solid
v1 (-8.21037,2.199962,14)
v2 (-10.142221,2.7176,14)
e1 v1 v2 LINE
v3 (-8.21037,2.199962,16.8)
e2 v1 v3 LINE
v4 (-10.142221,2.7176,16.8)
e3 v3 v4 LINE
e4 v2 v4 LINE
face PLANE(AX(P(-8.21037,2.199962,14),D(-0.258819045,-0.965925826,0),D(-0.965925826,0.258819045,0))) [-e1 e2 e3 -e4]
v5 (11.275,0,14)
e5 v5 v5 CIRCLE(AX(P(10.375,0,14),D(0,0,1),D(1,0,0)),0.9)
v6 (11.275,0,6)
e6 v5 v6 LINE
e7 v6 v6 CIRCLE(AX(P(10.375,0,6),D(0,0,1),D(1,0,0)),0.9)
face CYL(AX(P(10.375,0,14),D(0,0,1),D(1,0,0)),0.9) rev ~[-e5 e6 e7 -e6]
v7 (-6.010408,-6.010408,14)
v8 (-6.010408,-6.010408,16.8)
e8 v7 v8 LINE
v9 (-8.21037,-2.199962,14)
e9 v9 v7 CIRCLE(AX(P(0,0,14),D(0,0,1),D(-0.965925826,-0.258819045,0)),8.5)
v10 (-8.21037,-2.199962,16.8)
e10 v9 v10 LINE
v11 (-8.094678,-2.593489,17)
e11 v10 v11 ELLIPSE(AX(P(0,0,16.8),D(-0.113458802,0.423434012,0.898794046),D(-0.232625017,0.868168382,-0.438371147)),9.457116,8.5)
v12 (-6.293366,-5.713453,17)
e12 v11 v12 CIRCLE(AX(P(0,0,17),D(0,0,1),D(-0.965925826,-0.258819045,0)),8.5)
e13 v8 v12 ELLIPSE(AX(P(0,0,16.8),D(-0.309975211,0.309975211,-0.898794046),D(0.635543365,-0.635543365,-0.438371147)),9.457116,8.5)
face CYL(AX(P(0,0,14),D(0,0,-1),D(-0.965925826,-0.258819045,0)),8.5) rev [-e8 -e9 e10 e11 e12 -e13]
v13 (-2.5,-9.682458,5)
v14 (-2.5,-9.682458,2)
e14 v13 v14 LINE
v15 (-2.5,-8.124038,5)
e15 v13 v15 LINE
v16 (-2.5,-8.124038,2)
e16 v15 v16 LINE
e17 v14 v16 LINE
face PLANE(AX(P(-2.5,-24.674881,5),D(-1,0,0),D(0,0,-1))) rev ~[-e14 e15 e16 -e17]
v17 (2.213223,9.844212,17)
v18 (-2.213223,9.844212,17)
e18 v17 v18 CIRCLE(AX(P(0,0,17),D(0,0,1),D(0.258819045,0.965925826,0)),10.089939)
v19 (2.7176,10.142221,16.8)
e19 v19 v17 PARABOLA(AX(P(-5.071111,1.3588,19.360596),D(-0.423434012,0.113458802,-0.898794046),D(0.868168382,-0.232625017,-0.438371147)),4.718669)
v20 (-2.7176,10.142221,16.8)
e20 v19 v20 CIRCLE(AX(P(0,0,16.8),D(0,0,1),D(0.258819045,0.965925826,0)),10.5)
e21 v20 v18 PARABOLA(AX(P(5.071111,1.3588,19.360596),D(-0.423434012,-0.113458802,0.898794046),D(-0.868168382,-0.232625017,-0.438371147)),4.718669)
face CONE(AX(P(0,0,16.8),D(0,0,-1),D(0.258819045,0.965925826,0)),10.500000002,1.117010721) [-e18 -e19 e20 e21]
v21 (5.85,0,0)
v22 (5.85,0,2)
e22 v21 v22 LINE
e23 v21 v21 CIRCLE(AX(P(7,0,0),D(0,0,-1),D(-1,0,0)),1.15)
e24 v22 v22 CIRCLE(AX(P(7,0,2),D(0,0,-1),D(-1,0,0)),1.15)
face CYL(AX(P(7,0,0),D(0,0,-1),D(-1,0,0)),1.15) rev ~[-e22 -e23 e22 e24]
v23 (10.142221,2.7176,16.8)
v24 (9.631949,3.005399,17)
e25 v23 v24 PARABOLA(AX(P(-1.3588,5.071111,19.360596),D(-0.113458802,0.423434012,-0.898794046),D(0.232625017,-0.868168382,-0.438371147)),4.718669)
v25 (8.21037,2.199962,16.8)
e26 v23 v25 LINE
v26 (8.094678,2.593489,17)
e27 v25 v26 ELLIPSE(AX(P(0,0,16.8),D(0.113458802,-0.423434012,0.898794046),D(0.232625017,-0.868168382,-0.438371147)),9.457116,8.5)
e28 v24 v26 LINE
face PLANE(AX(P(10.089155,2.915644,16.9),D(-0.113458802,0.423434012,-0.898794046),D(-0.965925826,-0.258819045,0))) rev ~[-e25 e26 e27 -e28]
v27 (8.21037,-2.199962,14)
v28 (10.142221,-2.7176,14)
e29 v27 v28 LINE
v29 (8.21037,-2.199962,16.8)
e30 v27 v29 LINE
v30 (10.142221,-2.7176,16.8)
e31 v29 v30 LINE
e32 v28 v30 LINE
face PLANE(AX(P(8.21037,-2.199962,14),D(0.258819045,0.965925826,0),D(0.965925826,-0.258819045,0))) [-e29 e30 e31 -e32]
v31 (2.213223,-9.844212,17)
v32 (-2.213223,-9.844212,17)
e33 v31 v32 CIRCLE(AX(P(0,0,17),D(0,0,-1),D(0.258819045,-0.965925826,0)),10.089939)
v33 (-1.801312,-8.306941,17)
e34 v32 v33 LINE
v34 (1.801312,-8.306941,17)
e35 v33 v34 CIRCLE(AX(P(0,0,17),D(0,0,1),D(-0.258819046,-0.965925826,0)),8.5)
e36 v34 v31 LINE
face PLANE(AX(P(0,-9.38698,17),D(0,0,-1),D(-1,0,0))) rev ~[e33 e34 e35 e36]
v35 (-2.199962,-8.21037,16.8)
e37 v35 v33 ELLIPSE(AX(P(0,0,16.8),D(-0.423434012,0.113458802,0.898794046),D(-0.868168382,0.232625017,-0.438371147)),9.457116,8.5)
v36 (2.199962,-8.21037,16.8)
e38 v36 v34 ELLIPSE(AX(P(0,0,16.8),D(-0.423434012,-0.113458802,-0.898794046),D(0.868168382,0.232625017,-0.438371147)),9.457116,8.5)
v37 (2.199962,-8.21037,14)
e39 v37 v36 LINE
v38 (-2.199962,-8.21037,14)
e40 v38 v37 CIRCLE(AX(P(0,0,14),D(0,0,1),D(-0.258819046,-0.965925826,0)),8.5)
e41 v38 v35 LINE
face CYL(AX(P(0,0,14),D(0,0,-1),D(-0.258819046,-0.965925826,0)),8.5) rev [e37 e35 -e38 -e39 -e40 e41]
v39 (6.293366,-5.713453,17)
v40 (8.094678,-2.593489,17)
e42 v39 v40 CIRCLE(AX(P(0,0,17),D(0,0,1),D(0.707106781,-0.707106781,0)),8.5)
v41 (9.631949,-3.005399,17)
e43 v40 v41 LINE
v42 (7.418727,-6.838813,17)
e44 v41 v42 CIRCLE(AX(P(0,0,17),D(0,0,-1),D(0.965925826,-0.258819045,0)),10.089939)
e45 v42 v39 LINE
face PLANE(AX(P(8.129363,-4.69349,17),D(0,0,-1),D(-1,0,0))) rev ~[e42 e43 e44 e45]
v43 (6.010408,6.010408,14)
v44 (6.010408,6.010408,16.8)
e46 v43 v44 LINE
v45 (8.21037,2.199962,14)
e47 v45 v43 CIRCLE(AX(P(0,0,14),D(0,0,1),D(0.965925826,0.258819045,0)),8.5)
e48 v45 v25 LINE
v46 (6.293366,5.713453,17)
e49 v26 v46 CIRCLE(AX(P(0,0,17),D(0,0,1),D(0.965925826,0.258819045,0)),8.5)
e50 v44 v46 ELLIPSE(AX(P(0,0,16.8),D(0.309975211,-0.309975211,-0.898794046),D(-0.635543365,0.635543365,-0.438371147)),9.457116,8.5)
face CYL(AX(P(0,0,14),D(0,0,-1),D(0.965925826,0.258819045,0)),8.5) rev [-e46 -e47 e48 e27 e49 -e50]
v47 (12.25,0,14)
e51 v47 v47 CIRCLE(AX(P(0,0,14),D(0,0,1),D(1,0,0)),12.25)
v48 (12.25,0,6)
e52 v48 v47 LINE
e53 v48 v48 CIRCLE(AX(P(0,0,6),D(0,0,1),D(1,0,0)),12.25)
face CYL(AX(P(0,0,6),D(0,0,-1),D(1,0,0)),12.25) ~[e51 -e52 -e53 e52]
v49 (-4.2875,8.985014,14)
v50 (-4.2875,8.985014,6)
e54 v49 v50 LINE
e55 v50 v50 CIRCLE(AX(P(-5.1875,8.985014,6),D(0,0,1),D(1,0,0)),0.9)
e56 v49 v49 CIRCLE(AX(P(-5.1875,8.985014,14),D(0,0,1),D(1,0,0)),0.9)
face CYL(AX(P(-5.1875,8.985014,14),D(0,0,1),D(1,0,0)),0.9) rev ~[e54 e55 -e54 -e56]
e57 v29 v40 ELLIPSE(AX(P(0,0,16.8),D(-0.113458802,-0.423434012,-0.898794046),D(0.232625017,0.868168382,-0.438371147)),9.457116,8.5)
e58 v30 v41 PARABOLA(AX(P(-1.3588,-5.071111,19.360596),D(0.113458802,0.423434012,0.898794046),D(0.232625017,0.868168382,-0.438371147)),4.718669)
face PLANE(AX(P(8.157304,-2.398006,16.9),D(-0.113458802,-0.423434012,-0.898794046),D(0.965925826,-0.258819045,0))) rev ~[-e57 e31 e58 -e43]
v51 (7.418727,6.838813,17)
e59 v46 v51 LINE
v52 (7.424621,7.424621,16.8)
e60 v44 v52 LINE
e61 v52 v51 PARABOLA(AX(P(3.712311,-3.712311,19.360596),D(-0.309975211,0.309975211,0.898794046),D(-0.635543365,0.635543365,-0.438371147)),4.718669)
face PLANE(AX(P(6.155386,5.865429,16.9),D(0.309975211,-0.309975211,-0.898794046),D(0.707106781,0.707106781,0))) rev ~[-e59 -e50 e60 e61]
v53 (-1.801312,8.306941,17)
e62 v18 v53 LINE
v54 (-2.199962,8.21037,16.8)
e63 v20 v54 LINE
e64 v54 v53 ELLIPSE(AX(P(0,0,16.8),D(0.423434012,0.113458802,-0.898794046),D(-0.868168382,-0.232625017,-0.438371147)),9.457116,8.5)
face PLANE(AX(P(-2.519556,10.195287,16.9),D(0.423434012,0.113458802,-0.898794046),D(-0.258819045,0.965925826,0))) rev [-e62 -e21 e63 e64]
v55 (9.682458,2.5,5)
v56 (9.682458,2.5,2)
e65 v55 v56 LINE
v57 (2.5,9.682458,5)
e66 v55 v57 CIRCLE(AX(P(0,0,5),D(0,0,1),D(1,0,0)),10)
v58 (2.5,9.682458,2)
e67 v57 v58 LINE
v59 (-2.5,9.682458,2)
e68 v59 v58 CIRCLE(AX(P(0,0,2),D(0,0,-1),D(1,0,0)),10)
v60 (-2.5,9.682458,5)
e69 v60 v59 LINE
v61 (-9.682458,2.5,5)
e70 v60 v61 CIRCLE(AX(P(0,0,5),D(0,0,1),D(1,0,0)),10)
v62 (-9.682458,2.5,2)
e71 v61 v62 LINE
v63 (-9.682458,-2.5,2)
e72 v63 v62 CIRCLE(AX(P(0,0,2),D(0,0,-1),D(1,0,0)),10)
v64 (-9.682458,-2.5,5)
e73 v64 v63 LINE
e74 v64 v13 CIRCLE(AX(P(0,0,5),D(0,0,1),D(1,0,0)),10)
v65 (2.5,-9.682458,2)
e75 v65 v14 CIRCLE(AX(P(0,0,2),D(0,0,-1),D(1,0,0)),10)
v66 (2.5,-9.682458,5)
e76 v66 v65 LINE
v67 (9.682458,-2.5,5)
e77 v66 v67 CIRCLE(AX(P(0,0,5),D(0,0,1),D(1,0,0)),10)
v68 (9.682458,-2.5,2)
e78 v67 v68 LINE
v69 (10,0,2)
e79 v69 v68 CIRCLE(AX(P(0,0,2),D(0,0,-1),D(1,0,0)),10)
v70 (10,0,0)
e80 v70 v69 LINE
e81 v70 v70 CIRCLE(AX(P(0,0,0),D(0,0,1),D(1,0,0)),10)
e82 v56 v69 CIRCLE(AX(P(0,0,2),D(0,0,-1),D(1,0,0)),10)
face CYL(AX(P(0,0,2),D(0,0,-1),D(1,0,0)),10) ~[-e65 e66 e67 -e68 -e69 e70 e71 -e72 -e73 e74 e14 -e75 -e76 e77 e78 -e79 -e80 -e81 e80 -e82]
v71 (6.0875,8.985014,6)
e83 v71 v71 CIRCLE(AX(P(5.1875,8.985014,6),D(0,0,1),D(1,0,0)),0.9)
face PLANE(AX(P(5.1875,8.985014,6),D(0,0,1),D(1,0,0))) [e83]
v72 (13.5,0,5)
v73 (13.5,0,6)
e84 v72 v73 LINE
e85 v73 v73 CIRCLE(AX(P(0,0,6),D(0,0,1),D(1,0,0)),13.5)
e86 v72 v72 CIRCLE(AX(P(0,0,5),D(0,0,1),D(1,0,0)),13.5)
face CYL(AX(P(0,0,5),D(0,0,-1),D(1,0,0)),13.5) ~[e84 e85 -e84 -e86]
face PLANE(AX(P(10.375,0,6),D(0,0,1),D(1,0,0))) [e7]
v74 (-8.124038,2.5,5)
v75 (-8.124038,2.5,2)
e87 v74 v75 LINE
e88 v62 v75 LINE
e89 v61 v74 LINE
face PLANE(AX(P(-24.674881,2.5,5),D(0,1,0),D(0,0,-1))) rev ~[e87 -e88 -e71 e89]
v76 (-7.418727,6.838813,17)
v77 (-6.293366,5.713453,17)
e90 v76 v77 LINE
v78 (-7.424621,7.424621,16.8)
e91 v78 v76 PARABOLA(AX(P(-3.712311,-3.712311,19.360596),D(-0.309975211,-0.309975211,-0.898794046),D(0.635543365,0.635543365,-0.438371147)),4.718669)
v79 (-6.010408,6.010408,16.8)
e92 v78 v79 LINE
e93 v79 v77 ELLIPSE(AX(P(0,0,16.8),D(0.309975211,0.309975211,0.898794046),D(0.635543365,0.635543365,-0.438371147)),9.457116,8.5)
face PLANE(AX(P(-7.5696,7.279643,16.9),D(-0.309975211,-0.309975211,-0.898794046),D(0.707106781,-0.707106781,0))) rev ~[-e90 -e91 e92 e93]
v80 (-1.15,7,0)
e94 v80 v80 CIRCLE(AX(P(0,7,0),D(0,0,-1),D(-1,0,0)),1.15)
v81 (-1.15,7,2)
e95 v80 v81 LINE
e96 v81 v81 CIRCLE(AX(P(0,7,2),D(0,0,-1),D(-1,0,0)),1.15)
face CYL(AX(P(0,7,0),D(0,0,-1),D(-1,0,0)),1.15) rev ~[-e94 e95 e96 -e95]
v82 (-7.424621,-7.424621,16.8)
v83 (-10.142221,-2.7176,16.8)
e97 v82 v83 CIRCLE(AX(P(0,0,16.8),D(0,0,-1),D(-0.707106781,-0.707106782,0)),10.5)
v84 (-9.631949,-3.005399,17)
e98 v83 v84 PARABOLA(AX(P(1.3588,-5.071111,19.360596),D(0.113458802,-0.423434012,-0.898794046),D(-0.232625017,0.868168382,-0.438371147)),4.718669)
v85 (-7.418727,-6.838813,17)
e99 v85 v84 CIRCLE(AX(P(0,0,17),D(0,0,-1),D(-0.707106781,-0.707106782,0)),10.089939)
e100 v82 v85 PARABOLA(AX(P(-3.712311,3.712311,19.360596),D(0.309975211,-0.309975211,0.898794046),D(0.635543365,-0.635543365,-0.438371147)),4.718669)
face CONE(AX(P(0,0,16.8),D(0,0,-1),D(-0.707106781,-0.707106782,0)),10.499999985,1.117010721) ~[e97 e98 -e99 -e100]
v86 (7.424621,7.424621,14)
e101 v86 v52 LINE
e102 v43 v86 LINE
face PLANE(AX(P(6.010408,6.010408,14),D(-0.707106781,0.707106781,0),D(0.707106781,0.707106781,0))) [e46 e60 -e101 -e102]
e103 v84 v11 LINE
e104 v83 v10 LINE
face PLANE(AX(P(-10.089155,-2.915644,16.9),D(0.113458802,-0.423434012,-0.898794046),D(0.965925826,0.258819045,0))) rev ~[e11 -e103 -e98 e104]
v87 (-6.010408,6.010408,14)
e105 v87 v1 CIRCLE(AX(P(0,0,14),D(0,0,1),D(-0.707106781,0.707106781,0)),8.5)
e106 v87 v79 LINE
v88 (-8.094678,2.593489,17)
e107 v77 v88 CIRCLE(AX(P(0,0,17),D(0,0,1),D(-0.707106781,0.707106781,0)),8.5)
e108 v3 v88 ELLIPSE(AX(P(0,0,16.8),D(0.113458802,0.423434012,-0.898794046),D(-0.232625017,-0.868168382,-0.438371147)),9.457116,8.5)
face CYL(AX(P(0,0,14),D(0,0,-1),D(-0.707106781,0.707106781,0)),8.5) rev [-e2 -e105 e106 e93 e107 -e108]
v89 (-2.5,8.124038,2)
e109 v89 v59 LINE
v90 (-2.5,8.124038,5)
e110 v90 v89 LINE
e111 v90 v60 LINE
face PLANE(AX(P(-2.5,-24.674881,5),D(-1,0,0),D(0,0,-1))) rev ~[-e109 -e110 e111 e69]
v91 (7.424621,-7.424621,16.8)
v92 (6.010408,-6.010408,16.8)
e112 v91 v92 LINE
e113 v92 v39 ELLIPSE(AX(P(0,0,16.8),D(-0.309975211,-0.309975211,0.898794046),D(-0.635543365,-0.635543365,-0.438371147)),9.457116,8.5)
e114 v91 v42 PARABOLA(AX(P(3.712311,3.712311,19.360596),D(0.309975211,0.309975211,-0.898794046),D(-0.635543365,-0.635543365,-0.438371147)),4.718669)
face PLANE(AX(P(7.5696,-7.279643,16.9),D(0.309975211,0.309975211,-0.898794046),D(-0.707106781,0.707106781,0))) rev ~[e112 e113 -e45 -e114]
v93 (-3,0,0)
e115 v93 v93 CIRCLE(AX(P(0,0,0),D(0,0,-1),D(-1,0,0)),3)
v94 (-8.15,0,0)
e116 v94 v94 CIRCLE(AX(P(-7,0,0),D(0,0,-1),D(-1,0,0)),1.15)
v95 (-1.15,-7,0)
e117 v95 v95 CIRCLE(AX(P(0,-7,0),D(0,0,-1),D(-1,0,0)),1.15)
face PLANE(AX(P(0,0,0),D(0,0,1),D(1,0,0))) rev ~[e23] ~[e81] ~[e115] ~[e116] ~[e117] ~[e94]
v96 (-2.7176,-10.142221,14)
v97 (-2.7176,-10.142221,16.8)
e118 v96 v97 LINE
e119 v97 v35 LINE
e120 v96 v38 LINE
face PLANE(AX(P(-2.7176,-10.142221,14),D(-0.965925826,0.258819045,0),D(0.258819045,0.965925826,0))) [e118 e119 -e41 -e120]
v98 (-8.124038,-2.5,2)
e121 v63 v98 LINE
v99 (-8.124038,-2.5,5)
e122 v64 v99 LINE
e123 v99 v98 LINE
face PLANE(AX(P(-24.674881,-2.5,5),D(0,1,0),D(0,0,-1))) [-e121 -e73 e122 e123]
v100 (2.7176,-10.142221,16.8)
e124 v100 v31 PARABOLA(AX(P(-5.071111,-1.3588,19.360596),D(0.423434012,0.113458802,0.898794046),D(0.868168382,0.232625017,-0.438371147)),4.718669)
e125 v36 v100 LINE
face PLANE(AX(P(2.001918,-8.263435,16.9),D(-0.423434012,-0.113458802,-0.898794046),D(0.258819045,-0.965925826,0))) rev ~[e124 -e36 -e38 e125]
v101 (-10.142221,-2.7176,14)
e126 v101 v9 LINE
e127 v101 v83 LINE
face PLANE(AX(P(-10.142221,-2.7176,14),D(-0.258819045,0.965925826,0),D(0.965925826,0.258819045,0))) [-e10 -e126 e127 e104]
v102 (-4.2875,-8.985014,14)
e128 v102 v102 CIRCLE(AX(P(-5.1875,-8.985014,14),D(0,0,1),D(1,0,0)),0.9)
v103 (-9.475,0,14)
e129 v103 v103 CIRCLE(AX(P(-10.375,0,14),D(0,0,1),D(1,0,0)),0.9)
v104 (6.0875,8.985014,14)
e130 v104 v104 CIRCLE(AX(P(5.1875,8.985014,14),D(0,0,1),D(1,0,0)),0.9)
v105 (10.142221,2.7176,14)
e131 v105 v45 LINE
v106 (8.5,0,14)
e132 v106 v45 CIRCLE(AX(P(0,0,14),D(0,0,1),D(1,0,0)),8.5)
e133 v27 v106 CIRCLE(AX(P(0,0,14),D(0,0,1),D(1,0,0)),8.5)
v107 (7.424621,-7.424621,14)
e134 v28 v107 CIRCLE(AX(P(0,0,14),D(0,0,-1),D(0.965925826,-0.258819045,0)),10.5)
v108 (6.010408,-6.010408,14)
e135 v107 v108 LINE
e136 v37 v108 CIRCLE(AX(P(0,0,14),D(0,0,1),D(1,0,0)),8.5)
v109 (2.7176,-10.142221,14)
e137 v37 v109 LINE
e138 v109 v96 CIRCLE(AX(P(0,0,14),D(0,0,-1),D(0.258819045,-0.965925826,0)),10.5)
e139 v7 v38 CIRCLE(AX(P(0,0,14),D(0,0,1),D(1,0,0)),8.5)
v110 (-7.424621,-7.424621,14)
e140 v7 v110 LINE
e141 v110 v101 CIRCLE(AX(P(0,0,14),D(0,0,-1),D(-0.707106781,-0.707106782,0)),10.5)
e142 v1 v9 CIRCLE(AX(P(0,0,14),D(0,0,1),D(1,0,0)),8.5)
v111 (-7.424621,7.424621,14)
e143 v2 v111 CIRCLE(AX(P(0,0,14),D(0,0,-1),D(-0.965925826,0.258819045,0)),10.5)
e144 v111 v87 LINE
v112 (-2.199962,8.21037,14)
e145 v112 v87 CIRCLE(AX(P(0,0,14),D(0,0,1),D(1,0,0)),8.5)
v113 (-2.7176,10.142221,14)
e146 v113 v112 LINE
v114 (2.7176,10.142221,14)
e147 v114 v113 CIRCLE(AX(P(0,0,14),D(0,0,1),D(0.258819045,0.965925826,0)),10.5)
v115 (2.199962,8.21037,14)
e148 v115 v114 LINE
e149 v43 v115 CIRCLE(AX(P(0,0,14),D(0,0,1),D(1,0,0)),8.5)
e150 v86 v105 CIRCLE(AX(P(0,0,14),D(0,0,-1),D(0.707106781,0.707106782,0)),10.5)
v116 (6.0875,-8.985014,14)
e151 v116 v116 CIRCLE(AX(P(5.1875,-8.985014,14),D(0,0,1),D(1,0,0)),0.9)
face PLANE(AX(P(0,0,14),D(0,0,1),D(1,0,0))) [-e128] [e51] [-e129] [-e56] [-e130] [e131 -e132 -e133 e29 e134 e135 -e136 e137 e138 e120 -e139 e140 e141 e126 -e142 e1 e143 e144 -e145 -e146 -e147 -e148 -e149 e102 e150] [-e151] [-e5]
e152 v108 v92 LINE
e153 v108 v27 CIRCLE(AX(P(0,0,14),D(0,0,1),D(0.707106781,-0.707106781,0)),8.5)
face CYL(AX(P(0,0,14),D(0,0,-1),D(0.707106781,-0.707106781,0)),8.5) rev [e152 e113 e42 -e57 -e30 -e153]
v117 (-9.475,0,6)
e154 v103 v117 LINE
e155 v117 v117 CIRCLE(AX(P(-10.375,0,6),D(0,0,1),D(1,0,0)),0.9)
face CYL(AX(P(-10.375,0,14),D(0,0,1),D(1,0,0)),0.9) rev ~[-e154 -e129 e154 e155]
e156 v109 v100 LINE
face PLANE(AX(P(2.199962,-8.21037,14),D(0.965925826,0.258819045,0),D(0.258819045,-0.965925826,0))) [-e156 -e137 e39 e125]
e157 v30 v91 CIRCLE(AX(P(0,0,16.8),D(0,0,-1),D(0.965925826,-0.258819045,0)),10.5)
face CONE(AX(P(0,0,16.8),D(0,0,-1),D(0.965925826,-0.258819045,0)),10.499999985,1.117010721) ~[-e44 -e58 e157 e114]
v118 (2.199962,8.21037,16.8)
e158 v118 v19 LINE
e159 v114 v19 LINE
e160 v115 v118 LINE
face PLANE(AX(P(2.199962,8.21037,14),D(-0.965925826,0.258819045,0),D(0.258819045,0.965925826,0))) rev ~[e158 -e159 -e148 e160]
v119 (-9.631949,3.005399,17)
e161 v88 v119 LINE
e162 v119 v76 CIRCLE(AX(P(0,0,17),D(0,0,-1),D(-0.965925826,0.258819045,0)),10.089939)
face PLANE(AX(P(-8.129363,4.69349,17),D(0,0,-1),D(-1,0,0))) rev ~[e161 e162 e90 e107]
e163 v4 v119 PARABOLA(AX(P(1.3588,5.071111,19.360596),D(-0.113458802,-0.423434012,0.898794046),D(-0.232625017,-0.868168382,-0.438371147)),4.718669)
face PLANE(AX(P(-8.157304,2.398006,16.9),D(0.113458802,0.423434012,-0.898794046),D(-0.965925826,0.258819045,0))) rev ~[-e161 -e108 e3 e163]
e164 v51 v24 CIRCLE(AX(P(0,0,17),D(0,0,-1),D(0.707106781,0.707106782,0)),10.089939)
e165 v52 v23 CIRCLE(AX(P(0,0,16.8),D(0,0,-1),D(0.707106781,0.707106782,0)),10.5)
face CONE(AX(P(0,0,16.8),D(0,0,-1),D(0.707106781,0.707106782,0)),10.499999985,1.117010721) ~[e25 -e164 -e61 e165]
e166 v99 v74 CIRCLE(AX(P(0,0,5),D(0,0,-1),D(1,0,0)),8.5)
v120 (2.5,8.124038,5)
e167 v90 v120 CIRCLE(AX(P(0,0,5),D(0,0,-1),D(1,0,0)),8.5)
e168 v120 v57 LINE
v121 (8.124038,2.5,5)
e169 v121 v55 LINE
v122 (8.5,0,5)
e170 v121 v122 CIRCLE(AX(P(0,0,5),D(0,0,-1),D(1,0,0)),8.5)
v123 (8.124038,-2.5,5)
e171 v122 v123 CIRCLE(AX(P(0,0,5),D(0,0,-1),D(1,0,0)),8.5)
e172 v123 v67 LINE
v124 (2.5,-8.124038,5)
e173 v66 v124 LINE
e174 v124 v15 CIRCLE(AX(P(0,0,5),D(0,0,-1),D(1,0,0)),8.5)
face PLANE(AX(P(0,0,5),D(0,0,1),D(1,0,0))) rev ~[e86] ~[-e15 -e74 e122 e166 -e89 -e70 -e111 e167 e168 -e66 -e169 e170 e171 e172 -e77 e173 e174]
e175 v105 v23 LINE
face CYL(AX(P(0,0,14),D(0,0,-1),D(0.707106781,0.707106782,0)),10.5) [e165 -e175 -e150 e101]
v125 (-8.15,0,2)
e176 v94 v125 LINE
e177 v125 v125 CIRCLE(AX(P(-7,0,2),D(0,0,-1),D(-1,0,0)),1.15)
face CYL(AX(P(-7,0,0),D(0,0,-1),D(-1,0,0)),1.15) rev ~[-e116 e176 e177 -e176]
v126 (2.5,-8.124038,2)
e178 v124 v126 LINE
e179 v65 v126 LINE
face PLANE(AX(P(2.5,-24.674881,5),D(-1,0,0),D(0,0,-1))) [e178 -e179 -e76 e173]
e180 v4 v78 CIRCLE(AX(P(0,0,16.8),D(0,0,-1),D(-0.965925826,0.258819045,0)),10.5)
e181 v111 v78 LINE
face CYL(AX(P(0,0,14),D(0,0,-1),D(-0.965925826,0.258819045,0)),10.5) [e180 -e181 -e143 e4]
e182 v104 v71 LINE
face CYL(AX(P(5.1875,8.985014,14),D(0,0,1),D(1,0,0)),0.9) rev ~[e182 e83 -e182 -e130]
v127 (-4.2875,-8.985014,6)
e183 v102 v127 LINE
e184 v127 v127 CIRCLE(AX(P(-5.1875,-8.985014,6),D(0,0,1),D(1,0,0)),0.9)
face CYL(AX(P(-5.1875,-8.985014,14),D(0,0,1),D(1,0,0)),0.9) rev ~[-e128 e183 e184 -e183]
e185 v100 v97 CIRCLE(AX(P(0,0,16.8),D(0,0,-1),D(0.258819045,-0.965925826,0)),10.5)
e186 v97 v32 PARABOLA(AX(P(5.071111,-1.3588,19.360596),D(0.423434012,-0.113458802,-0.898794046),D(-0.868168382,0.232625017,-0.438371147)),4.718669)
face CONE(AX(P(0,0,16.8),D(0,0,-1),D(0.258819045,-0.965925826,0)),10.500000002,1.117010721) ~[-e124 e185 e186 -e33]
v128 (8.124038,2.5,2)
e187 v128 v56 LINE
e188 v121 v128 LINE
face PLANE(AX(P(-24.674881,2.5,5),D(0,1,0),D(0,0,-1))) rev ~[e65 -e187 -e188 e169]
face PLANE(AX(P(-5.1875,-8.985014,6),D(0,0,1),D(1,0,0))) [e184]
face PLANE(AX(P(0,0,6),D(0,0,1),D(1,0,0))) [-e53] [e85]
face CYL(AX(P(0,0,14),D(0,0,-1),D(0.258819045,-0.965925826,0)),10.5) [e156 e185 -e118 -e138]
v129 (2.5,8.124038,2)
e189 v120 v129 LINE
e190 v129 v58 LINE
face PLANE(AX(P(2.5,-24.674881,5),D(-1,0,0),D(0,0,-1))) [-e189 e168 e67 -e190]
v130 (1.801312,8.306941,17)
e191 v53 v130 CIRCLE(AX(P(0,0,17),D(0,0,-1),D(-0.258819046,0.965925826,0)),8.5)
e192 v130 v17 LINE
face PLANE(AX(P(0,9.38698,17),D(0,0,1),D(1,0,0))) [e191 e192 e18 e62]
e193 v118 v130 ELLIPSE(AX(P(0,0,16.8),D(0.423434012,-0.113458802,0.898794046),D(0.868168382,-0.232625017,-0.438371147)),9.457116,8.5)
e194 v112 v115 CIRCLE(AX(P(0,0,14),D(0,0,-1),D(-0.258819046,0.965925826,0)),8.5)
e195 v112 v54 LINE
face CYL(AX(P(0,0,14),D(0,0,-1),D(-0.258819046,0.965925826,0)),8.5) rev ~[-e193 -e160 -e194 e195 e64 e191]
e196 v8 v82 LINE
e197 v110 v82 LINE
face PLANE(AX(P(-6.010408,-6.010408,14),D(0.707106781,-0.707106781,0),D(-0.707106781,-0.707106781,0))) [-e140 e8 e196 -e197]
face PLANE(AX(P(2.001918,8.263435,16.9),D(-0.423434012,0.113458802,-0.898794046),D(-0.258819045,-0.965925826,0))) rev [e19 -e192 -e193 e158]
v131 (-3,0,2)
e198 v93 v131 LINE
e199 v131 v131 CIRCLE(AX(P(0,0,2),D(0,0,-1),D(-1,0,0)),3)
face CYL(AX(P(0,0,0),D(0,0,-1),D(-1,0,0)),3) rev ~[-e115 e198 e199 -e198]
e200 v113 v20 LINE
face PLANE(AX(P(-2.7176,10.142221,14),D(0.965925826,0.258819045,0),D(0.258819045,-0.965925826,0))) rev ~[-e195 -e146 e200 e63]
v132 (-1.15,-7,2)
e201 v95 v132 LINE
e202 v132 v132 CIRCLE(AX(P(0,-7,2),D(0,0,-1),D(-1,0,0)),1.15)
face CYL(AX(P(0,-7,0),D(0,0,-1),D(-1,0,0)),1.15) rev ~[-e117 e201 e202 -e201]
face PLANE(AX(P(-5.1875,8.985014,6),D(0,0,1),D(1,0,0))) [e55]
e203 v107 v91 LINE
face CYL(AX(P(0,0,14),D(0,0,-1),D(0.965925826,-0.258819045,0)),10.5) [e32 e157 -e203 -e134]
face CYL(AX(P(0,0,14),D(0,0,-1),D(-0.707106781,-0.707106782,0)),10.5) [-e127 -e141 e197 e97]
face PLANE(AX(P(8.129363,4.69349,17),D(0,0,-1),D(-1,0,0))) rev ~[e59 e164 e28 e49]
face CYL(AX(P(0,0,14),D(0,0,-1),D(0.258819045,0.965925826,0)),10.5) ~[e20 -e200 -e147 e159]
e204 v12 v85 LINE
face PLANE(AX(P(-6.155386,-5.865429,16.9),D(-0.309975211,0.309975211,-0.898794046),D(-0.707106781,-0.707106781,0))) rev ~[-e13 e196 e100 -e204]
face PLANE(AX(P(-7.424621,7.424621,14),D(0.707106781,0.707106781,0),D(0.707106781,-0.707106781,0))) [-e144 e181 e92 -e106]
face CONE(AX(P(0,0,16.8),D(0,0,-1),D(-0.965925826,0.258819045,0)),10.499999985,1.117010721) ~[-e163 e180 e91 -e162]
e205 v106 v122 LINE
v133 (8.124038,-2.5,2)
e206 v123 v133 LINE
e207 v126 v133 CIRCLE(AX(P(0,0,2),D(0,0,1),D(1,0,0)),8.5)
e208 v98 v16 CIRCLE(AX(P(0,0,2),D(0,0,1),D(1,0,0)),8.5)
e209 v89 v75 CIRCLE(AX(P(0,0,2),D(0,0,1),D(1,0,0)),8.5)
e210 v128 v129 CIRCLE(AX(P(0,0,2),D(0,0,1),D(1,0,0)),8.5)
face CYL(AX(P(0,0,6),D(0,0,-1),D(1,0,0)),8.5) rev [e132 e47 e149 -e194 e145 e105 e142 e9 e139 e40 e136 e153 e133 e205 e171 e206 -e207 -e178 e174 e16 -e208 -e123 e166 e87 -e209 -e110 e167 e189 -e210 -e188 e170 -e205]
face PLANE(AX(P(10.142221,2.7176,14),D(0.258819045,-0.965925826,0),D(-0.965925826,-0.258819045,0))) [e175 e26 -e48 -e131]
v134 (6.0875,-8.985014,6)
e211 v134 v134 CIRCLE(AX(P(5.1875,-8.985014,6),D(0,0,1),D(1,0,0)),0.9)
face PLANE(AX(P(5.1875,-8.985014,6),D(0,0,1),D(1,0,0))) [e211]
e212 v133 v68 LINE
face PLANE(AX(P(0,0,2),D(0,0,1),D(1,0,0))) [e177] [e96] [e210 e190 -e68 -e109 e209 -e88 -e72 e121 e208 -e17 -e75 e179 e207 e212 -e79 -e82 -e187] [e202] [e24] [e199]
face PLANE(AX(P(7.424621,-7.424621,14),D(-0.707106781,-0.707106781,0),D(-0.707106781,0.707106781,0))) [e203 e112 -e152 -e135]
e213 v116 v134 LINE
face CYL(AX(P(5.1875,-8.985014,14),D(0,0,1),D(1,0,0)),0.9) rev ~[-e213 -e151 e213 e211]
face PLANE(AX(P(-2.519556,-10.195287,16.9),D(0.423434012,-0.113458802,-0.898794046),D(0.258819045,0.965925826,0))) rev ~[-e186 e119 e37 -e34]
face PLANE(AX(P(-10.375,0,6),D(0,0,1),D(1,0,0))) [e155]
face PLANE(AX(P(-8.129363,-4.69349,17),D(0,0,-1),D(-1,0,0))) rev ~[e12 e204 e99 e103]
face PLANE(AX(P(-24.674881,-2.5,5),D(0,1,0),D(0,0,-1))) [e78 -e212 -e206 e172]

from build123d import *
from OCP.BRepFilletAPI import BRepFilletAPI_MakeChamfer

# Parameters (mm, degrees)
SKETCH_1_R               = 10
EXTRUDE_1_DEPTH          = 2
SKETCH_2_R               = 10
SKETCH_2_R_2             = 8.5
EXTRUDE_2_DEPTH          = 3
SKETCH_4_R               = 13.5
SKETCH_4_R_2             = 8.5
EXTRUDE_3_DEPTH          = 1
SKETCH_5_R               = 12.25
SKETCH_5_R_2             = 8.5
EXTRUDE_4_DEPTH          = 8
SKETCH_6_R               = 0.9
CUT_EXTRUDE_1_DEPTH      = 8
SKETCH_7_R               = 3
SKETCH_7_R_2             = 1.15
CUT_EXTRUDE_2_DEPTH      = 24.674881204
CUT_EXTRUDE_3_DEPTH      = 24.674881204
CUT_EXTRUDE_3_DEPTH_BACK = 24.674881204
SKETCH_8_W               = 5
SKETCH_8_H               = 3
CUT_EXTRUDE_4_DEPTH      = 24.674881204
CUT_EXTRUDE_4_DEPTH_BACK = 24.674881204
SKETCH_9_W               = 3
SKETCH_9_H               = 5
EXTRUDE_5_DEPTH          = 3
CHAMFER_1_SIZE           = 0.2
CHAMFER_1_SIZE2          = 0.410060768


with BuildPart() as part:
    # 스케치1 → 보스-돌출1 (new body)
    with BuildSketch(Plane.XY):
        Circle(SKETCH_1_R)
    extrude(amount=EXTRUDE_1_DEPTH)

    # 스케치2 → 보스-돌출2 (add)
    with BuildSketch(Plane.XY.offset(2)):
        Circle(SKETCH_2_R)
        Circle(SKETCH_2_R_2, mode=Mode.SUBTRACT)
    extrude(amount=EXTRUDE_2_DEPTH)

    # 스케치4 → 보스-돌출3 (add)
    with BuildSketch(Plane.XY.offset(5)):
        Circle(SKETCH_4_R)
        Circle(SKETCH_4_R_2, mode=Mode.SUBTRACT)
    extrude(amount=EXTRUDE_3_DEPTH)

    # 스케치5 → 보스-돌출4 (add)
    with BuildSketch(Plane.XY.offset(6)):
        Circle(SKETCH_5_R)
        Circle(SKETCH_5_R_2, mode=Mode.SUBTRACT)
    extrude(amount=EXTRUDE_4_DEPTH)

    # 스케치6 → 컷-돌출1 (cut)
    with BuildSketch(Plane.XY.offset(14)):
        with Locations((10.375, 0)):
            Circle(SKETCH_6_R)
        with Locations((5.1875, -8.985013564)):
            Circle(SKETCH_6_R)
        with Locations((-5.1875, -8.985013564)):
            Circle(SKETCH_6_R)
        with Locations((-10.375, 0)):
            Circle(SKETCH_6_R)
        with Locations((-5.1875, 8.985013564)):
            Circle(SKETCH_6_R)
        with Locations((5.1875, 8.985013564)):
            Circle(SKETCH_6_R)
    extrude(amount=-CUT_EXTRUDE_1_DEPTH, mode=Mode.SUBTRACT)

    # 스케치7 → 컷-돌출2 (cut, through all)
    with BuildSketch(Plane(origin=(0, 0, 0), x_dir=(-1, 0, 0), z_dir=(0, 0, -1))):
        Circle(SKETCH_7_R)
        with Locations((-7, 0)):
            Circle(SKETCH_7_R_2)
        with Locations((7, 0)):
            Circle(SKETCH_7_R_2)
        with Locations((0, 7)):
            Circle(SKETCH_7_R_2)
        with Locations((0, -7)):
            Circle(SKETCH_7_R_2)
    extrude(amount=-CUT_EXTRUDE_2_DEPTH, mode=Mode.SUBTRACT)

    # 스케치8 → 컷-돌출3 (cut, two sides: drawn at the far end of the back side and taken through both)
    with BuildSketch(Plane(origin=(0, 0, 0), x_dir=(1, 0, 0), z_dir=(0, 1, 0)).offset(-CUT_EXTRUDE_3_DEPTH_BACK)):
        with Locations((0, -3.5)):
            Rectangle(SKETCH_8_W, SKETCH_8_H)
    extrude(amount=CUT_EXTRUDE_3_DEPTH + CUT_EXTRUDE_3_DEPTH_BACK, mode=Mode.SUBTRACT)

    # 스케치9 → 컷-돌출4 (cut, two sides: drawn at the far end of the back side and taken through both)
    with BuildSketch(Plane(origin=(0, 0, 0), x_dir=(0, 0, -1), z_dir=(1, 0, 0)).offset(-CUT_EXTRUDE_4_DEPTH_BACK)):
        with Locations((-3.5, 0)):
            Rectangle(SKETCH_9_W, SKETCH_9_H)
    extrude(amount=CUT_EXTRUDE_4_DEPTH + CUT_EXTRUDE_4_DEPTH_BACK, mode=Mode.SUBTRACT)

    # 스케치10 → 보스-돌출5 (add)
    with BuildSketch(Plane.XY.offset(14)):
        with BuildLine():
            Line((2.199961883, 8.210369523), (2.717599974, 10.142221176))
            ThreePointArc((2.717599974, 10.142221176), (0, 10.5), (-2.717599974, 10.142221176))
            Line((-2.717599974, 10.142221176), (-2.199961883, 8.210369523))
            ThreePointArc((-2.199961883, 8.210369523), (0, 8.5), (2.199961883, 8.210369523))
        make_face()
        with BuildLine():
            Line((6.01040764, 6.01040764), (7.424621202, 7.424621202))
            ThreePointArc((7.424621202, 7.424621202), (9.09326674, 5.25), (10.142221176, 2.717599974))
            Line((10.142221176, 2.717599974), (8.210369523, 2.199961883))
            ThreePointArc((8.210369523, 2.199961883), (7.361215932, 4.25), (6.01040764, 6.01040764))
        make_face()
        with BuildLine():
            Line((8.210369523, -2.199961883), (10.142221176, -2.717599974))
            ThreePointArc((10.142221176, -2.717599974), (9.09326674, -5.25), (7.424621202, -7.424621202))
            Line((7.424621202, -7.424621202), (6.01040764, -6.01040764))
            ThreePointArc((6.01040764, -6.01040764), (7.361215932, -4.25), (8.210369523, -2.199961883))
        make_face()
        with BuildLine():
            Line((2.199961883, -8.210369523), (2.717599974, -10.142221176))
            ThreePointArc((2.717599974, -10.142221176), (0, -10.5), (-2.717599974, -10.142221176))
            Line((-2.717599974, -10.142221176), (-2.199961883, -8.210369523))
            ThreePointArc((-2.199961883, -8.210369523), (0, -8.5), (2.199961883, -8.210369523))
        make_face()
        with BuildLine():
            Line((-6.01040764, -6.01040764), (-7.424621202, -7.424621202))
            ThreePointArc((-7.424621202, -7.424621202), (-9.09326674, -5.25), (-10.142221176, -2.717599974))
            Line((-10.142221176, -2.717599974), (-8.210369523, -2.199961883))
            ThreePointArc((-8.210369523, -2.199961883), (-7.361215932, -4.25), (-6.01040764, -6.01040764))
        make_face()
        with BuildLine():
            Line((-8.210369523, 2.199961883), (-10.142221176, 2.717599974))
            ThreePointArc((-10.142221176, 2.717599974), (-9.09326674, 5.25), (-7.424621202, 7.424621202))
            Line((-7.424621202, 7.424621202), (-6.01040764, 6.01040764))
            ThreePointArc((-6.01040764, 6.01040764), (-7.361215932, 4.25), (-8.210369523, 2.199961883))
        make_face()
    extrude(amount=EXTRUDE_5_DEPTH)

    # 모따기1: one chamfer whose edges measure the first distance from different faces: ONE call of the kernel's chamfer builder (chamfer() names one face for all edges)
    chamfer_1_edges_1 = [part.edges().sort_by_distance(p)[0] for p in [
        (-6.717514421, 6.717514421, 17),
    ]]
    chamfer_1_side_1 = [part.faces().sort_by_distance(p)[0] for p in [
        (-6.717514421, 6.717514421, 15.5),
    ]]
    chamfer_1_edges_2 = [part.edges().sort_by_distance(p)[0] for p in [
        (-9.09326674, 5.25, 17),
    ]]
    chamfer_1_side_2 = [part.faces().sort_by_distance(p)[0] for p in [
        (-9.09326674, 5.25, 15.5),
    ]]
    chamfer_1_edges_3 = [part.edges().sort_by_distance(p)[0] for p in [
        (-9.17629535, 2.458780928, 17),
    ]]
    chamfer_1_side_3 = [part.faces().sort_by_distance(p)[0] for p in [
        (-9.17629535, 2.458780928, 15.5),
    ]]
    chamfer_1_edges_4 = [part.edges().sort_by_distance(p)[0] for p in [
        (-9.17629535, -2.458780928, 17),
    ]]
    chamfer_1_side_4 = [part.faces().sort_by_distance(p)[0] for p in [
        (-9.17629535, -2.458780928, 15.5),
    ]]
    chamfer_1_edges_5 = [part.edges().sort_by_distance(p)[0] for p in [
        (-9.09326674, -5.25, 17),
    ]]
    chamfer_1_side_5 = [part.faces().sort_by_distance(p)[0] for p in [
        (-9.09326674, -5.25, 15.5),
    ]]
    chamfer_1_edges_6 = [part.edges().sort_by_distance(p)[0] for p in [
        (-6.717514421, -6.717514421, 17),
    ]]
    chamfer_1_side_6 = [part.faces().sort_by_distance(p)[0] for p in [
        (-6.717514421, -6.717514421, 15.5),
    ]]
    chamfer_1_edges_7 = [part.edges().sort_by_distance(p)[0] for p in [
        (0, 10.5, 17),
    ]]
    chamfer_1_side_7 = [part.faces().sort_by_distance(p)[0] for p in [
        (0, 10.5, 15.5),
    ]]
    chamfer_1_edges_8 = [part.edges().sort_by_distance(p)[0] for p in [
        (-2.458780928, 9.17629535, 17),
    ]]
    chamfer_1_side_8 = [part.faces().sort_by_distance(p)[0] for p in [
        (-2.458780928, 9.17629535, 15.5),
    ]]
    chamfer_1_edges_9 = [part.edges().sort_by_distance(p)[0] for p in [
        (2.458780928, 9.17629535, 17),
    ]]
    chamfer_1_side_9 = [part.faces().sort_by_distance(p)[0] for p in [
        (2.458780928, 9.17629535, 15.5),
    ]]
    chamfer_1_edges_10 = [part.edges().sort_by_distance(p)[0] for p in [
        (-2.458780928, -9.17629535, 17),
    ]]
    chamfer_1_side_10 = [part.faces().sort_by_distance(p)[0] for p in [
        (-2.458780928, -9.17629535, 15.5),
    ]]
    chamfer_1_edges_11 = [part.edges().sort_by_distance(p)[0] for p in [
        (0, -10.5, 17),
    ]]
    chamfer_1_side_11 = [part.faces().sort_by_distance(p)[0] for p in [
        (0, -10.5, 15.5),
    ]]
    chamfer_1_edges_12 = [part.edges().sort_by_distance(p)[0] for p in [
        (2.458780928, -9.17629535, 17),
    ]]
    chamfer_1_side_12 = [part.faces().sort_by_distance(p)[0] for p in [
        (2.458780928, -9.17629535, 15.5),
    ]]
    chamfer_1_edges_13 = [part.edges().sort_by_distance(p)[0] for p in [
        (9.09326674, 5.25, 17),
    ]]
    chamfer_1_side_13 = [part.faces().sort_by_distance(p)[0] for p in [
        (9.09326674, 5.25, 15.5),
    ]]
    chamfer_1_edges_14 = [part.edges().sort_by_distance(p)[0] for p in [
        (6.717514421, 6.717514421, 17),
    ]]
    chamfer_1_side_14 = [part.faces().sort_by_distance(p)[0] for p in [
        (6.717514421, 6.717514421, 15.5),
    ]]
    chamfer_1_edges_15 = [part.edges().sort_by_distance(p)[0] for p in [
        (9.17629535, 2.458780928, 17),
    ]]
    chamfer_1_side_15 = [part.faces().sort_by_distance(p)[0] for p in [
        (9.17629535, 2.458780928, 15.5),
    ]]
    chamfer_1_edges_16 = [part.edges().sort_by_distance(p)[0] for p in [
        (6.717514421, -6.717514421, 17),
    ]]
    chamfer_1_side_16 = [part.faces().sort_by_distance(p)[0] for p in [
        (6.717514421, -6.717514421, 15.5),
    ]]
    chamfer_1_edges_17 = [part.edges().sort_by_distance(p)[0] for p in [
        (9.09326674, -5.25, 17),
    ]]
    chamfer_1_side_17 = [part.faces().sort_by_distance(p)[0] for p in [
        (9.09326674, -5.25, 15.5),
    ]]
    chamfer_1_edges_18 = [part.edges().sort_by_distance(p)[0] for p in [
        (9.17629535, -2.458780928, 17),
    ]]
    chamfer_1_side_18 = [part.faces().sort_by_distance(p)[0] for p in [
        (9.17629535, -2.458780928, 15.5),
    ]]
    chamfer_1 = BRepFilletAPI_MakeChamfer(part.part.solid().wrapped)
    for e in chamfer_1_edges_1:
        chamfer_1.Add(CHAMFER_1_SIZE, CHAMFER_1_SIZE2, e.wrapped, chamfer_1_side_1[0].wrapped)  # the first distance lies on this face
    for e in chamfer_1_edges_2:
        chamfer_1.Add(CHAMFER_1_SIZE, CHAMFER_1_SIZE2, e.wrapped, chamfer_1_side_2[0].wrapped)  # the first distance lies on this face
    for e in chamfer_1_edges_3:
        chamfer_1.Add(CHAMFER_1_SIZE, CHAMFER_1_SIZE2, e.wrapped, chamfer_1_side_3[0].wrapped)  # the first distance lies on this face
    for e in chamfer_1_edges_4:
        chamfer_1.Add(CHAMFER_1_SIZE, CHAMFER_1_SIZE2, e.wrapped, chamfer_1_side_4[0].wrapped)  # the first distance lies on this face
    for e in chamfer_1_edges_5:
        chamfer_1.Add(CHAMFER_1_SIZE, CHAMFER_1_SIZE2, e.wrapped, chamfer_1_side_5[0].wrapped)  # the first distance lies on this face
    for e in chamfer_1_edges_6:
        chamfer_1.Add(CHAMFER_1_SIZE, CHAMFER_1_SIZE2, e.wrapped, chamfer_1_side_6[0].wrapped)  # the first distance lies on this face
    for e in chamfer_1_edges_7:
        chamfer_1.Add(CHAMFER_1_SIZE, CHAMFER_1_SIZE2, e.wrapped, chamfer_1_side_7[0].wrapped)  # the first distance lies on this face
    for e in chamfer_1_edges_8:
        chamfer_1.Add(CHAMFER_1_SIZE, CHAMFER_1_SIZE2, e.wrapped, chamfer_1_side_8[0].wrapped)  # the first distance lies on this face
    for e in chamfer_1_edges_9:
        chamfer_1.Add(CHAMFER_1_SIZE, CHAMFER_1_SIZE2, e.wrapped, chamfer_1_side_9[0].wrapped)  # the first distance lies on this face
    for e in chamfer_1_edges_10:
        chamfer_1.Add(CHAMFER_1_SIZE, CHAMFER_1_SIZE2, e.wrapped, chamfer_1_side_10[0].wrapped)  # the first distance lies on this face
    for e in chamfer_1_edges_11:
        chamfer_1.Add(CHAMFER_1_SIZE, CHAMFER_1_SIZE2, e.wrapped, chamfer_1_side_11[0].wrapped)  # the first distance lies on this face
    for e in chamfer_1_edges_12:
        chamfer_1.Add(CHAMFER_1_SIZE, CHAMFER_1_SIZE2, e.wrapped, chamfer_1_side_12[0].wrapped)  # the first distance lies on this face
    for e in chamfer_1_edges_13:
        chamfer_1.Add(CHAMFER_1_SIZE, CHAMFER_1_SIZE2, e.wrapped, chamfer_1_side_13[0].wrapped)  # the first distance lies on this face
    for e in chamfer_1_edges_14:
        chamfer_1.Add(CHAMFER_1_SIZE, CHAMFER_1_SIZE2, e.wrapped, chamfer_1_side_14[0].wrapped)  # the first distance lies on this face
    for e in chamfer_1_edges_15:
        chamfer_1.Add(CHAMFER_1_SIZE, CHAMFER_1_SIZE2, e.wrapped, chamfer_1_side_15[0].wrapped)  # the first distance lies on this face
    for e in chamfer_1_edges_16:
        chamfer_1.Add(CHAMFER_1_SIZE, CHAMFER_1_SIZE2, e.wrapped, chamfer_1_side_16[0].wrapped)  # the first distance lies on this face
    for e in chamfer_1_edges_17:
        chamfer_1.Add(CHAMFER_1_SIZE, CHAMFER_1_SIZE2, e.wrapped, chamfer_1_side_17[0].wrapped)  # the first distance lies on this face
    for e in chamfer_1_edges_18:
        chamfer_1.Add(CHAMFER_1_SIZE, CHAMFER_1_SIZE2, e.wrapped, chamfer_1_side_18[0].wrapped)  # the first distance lies on this face
    add(Compound.cast(chamfer_1.Shape()), mode=Mode.REPLACE)


solid = part.part
